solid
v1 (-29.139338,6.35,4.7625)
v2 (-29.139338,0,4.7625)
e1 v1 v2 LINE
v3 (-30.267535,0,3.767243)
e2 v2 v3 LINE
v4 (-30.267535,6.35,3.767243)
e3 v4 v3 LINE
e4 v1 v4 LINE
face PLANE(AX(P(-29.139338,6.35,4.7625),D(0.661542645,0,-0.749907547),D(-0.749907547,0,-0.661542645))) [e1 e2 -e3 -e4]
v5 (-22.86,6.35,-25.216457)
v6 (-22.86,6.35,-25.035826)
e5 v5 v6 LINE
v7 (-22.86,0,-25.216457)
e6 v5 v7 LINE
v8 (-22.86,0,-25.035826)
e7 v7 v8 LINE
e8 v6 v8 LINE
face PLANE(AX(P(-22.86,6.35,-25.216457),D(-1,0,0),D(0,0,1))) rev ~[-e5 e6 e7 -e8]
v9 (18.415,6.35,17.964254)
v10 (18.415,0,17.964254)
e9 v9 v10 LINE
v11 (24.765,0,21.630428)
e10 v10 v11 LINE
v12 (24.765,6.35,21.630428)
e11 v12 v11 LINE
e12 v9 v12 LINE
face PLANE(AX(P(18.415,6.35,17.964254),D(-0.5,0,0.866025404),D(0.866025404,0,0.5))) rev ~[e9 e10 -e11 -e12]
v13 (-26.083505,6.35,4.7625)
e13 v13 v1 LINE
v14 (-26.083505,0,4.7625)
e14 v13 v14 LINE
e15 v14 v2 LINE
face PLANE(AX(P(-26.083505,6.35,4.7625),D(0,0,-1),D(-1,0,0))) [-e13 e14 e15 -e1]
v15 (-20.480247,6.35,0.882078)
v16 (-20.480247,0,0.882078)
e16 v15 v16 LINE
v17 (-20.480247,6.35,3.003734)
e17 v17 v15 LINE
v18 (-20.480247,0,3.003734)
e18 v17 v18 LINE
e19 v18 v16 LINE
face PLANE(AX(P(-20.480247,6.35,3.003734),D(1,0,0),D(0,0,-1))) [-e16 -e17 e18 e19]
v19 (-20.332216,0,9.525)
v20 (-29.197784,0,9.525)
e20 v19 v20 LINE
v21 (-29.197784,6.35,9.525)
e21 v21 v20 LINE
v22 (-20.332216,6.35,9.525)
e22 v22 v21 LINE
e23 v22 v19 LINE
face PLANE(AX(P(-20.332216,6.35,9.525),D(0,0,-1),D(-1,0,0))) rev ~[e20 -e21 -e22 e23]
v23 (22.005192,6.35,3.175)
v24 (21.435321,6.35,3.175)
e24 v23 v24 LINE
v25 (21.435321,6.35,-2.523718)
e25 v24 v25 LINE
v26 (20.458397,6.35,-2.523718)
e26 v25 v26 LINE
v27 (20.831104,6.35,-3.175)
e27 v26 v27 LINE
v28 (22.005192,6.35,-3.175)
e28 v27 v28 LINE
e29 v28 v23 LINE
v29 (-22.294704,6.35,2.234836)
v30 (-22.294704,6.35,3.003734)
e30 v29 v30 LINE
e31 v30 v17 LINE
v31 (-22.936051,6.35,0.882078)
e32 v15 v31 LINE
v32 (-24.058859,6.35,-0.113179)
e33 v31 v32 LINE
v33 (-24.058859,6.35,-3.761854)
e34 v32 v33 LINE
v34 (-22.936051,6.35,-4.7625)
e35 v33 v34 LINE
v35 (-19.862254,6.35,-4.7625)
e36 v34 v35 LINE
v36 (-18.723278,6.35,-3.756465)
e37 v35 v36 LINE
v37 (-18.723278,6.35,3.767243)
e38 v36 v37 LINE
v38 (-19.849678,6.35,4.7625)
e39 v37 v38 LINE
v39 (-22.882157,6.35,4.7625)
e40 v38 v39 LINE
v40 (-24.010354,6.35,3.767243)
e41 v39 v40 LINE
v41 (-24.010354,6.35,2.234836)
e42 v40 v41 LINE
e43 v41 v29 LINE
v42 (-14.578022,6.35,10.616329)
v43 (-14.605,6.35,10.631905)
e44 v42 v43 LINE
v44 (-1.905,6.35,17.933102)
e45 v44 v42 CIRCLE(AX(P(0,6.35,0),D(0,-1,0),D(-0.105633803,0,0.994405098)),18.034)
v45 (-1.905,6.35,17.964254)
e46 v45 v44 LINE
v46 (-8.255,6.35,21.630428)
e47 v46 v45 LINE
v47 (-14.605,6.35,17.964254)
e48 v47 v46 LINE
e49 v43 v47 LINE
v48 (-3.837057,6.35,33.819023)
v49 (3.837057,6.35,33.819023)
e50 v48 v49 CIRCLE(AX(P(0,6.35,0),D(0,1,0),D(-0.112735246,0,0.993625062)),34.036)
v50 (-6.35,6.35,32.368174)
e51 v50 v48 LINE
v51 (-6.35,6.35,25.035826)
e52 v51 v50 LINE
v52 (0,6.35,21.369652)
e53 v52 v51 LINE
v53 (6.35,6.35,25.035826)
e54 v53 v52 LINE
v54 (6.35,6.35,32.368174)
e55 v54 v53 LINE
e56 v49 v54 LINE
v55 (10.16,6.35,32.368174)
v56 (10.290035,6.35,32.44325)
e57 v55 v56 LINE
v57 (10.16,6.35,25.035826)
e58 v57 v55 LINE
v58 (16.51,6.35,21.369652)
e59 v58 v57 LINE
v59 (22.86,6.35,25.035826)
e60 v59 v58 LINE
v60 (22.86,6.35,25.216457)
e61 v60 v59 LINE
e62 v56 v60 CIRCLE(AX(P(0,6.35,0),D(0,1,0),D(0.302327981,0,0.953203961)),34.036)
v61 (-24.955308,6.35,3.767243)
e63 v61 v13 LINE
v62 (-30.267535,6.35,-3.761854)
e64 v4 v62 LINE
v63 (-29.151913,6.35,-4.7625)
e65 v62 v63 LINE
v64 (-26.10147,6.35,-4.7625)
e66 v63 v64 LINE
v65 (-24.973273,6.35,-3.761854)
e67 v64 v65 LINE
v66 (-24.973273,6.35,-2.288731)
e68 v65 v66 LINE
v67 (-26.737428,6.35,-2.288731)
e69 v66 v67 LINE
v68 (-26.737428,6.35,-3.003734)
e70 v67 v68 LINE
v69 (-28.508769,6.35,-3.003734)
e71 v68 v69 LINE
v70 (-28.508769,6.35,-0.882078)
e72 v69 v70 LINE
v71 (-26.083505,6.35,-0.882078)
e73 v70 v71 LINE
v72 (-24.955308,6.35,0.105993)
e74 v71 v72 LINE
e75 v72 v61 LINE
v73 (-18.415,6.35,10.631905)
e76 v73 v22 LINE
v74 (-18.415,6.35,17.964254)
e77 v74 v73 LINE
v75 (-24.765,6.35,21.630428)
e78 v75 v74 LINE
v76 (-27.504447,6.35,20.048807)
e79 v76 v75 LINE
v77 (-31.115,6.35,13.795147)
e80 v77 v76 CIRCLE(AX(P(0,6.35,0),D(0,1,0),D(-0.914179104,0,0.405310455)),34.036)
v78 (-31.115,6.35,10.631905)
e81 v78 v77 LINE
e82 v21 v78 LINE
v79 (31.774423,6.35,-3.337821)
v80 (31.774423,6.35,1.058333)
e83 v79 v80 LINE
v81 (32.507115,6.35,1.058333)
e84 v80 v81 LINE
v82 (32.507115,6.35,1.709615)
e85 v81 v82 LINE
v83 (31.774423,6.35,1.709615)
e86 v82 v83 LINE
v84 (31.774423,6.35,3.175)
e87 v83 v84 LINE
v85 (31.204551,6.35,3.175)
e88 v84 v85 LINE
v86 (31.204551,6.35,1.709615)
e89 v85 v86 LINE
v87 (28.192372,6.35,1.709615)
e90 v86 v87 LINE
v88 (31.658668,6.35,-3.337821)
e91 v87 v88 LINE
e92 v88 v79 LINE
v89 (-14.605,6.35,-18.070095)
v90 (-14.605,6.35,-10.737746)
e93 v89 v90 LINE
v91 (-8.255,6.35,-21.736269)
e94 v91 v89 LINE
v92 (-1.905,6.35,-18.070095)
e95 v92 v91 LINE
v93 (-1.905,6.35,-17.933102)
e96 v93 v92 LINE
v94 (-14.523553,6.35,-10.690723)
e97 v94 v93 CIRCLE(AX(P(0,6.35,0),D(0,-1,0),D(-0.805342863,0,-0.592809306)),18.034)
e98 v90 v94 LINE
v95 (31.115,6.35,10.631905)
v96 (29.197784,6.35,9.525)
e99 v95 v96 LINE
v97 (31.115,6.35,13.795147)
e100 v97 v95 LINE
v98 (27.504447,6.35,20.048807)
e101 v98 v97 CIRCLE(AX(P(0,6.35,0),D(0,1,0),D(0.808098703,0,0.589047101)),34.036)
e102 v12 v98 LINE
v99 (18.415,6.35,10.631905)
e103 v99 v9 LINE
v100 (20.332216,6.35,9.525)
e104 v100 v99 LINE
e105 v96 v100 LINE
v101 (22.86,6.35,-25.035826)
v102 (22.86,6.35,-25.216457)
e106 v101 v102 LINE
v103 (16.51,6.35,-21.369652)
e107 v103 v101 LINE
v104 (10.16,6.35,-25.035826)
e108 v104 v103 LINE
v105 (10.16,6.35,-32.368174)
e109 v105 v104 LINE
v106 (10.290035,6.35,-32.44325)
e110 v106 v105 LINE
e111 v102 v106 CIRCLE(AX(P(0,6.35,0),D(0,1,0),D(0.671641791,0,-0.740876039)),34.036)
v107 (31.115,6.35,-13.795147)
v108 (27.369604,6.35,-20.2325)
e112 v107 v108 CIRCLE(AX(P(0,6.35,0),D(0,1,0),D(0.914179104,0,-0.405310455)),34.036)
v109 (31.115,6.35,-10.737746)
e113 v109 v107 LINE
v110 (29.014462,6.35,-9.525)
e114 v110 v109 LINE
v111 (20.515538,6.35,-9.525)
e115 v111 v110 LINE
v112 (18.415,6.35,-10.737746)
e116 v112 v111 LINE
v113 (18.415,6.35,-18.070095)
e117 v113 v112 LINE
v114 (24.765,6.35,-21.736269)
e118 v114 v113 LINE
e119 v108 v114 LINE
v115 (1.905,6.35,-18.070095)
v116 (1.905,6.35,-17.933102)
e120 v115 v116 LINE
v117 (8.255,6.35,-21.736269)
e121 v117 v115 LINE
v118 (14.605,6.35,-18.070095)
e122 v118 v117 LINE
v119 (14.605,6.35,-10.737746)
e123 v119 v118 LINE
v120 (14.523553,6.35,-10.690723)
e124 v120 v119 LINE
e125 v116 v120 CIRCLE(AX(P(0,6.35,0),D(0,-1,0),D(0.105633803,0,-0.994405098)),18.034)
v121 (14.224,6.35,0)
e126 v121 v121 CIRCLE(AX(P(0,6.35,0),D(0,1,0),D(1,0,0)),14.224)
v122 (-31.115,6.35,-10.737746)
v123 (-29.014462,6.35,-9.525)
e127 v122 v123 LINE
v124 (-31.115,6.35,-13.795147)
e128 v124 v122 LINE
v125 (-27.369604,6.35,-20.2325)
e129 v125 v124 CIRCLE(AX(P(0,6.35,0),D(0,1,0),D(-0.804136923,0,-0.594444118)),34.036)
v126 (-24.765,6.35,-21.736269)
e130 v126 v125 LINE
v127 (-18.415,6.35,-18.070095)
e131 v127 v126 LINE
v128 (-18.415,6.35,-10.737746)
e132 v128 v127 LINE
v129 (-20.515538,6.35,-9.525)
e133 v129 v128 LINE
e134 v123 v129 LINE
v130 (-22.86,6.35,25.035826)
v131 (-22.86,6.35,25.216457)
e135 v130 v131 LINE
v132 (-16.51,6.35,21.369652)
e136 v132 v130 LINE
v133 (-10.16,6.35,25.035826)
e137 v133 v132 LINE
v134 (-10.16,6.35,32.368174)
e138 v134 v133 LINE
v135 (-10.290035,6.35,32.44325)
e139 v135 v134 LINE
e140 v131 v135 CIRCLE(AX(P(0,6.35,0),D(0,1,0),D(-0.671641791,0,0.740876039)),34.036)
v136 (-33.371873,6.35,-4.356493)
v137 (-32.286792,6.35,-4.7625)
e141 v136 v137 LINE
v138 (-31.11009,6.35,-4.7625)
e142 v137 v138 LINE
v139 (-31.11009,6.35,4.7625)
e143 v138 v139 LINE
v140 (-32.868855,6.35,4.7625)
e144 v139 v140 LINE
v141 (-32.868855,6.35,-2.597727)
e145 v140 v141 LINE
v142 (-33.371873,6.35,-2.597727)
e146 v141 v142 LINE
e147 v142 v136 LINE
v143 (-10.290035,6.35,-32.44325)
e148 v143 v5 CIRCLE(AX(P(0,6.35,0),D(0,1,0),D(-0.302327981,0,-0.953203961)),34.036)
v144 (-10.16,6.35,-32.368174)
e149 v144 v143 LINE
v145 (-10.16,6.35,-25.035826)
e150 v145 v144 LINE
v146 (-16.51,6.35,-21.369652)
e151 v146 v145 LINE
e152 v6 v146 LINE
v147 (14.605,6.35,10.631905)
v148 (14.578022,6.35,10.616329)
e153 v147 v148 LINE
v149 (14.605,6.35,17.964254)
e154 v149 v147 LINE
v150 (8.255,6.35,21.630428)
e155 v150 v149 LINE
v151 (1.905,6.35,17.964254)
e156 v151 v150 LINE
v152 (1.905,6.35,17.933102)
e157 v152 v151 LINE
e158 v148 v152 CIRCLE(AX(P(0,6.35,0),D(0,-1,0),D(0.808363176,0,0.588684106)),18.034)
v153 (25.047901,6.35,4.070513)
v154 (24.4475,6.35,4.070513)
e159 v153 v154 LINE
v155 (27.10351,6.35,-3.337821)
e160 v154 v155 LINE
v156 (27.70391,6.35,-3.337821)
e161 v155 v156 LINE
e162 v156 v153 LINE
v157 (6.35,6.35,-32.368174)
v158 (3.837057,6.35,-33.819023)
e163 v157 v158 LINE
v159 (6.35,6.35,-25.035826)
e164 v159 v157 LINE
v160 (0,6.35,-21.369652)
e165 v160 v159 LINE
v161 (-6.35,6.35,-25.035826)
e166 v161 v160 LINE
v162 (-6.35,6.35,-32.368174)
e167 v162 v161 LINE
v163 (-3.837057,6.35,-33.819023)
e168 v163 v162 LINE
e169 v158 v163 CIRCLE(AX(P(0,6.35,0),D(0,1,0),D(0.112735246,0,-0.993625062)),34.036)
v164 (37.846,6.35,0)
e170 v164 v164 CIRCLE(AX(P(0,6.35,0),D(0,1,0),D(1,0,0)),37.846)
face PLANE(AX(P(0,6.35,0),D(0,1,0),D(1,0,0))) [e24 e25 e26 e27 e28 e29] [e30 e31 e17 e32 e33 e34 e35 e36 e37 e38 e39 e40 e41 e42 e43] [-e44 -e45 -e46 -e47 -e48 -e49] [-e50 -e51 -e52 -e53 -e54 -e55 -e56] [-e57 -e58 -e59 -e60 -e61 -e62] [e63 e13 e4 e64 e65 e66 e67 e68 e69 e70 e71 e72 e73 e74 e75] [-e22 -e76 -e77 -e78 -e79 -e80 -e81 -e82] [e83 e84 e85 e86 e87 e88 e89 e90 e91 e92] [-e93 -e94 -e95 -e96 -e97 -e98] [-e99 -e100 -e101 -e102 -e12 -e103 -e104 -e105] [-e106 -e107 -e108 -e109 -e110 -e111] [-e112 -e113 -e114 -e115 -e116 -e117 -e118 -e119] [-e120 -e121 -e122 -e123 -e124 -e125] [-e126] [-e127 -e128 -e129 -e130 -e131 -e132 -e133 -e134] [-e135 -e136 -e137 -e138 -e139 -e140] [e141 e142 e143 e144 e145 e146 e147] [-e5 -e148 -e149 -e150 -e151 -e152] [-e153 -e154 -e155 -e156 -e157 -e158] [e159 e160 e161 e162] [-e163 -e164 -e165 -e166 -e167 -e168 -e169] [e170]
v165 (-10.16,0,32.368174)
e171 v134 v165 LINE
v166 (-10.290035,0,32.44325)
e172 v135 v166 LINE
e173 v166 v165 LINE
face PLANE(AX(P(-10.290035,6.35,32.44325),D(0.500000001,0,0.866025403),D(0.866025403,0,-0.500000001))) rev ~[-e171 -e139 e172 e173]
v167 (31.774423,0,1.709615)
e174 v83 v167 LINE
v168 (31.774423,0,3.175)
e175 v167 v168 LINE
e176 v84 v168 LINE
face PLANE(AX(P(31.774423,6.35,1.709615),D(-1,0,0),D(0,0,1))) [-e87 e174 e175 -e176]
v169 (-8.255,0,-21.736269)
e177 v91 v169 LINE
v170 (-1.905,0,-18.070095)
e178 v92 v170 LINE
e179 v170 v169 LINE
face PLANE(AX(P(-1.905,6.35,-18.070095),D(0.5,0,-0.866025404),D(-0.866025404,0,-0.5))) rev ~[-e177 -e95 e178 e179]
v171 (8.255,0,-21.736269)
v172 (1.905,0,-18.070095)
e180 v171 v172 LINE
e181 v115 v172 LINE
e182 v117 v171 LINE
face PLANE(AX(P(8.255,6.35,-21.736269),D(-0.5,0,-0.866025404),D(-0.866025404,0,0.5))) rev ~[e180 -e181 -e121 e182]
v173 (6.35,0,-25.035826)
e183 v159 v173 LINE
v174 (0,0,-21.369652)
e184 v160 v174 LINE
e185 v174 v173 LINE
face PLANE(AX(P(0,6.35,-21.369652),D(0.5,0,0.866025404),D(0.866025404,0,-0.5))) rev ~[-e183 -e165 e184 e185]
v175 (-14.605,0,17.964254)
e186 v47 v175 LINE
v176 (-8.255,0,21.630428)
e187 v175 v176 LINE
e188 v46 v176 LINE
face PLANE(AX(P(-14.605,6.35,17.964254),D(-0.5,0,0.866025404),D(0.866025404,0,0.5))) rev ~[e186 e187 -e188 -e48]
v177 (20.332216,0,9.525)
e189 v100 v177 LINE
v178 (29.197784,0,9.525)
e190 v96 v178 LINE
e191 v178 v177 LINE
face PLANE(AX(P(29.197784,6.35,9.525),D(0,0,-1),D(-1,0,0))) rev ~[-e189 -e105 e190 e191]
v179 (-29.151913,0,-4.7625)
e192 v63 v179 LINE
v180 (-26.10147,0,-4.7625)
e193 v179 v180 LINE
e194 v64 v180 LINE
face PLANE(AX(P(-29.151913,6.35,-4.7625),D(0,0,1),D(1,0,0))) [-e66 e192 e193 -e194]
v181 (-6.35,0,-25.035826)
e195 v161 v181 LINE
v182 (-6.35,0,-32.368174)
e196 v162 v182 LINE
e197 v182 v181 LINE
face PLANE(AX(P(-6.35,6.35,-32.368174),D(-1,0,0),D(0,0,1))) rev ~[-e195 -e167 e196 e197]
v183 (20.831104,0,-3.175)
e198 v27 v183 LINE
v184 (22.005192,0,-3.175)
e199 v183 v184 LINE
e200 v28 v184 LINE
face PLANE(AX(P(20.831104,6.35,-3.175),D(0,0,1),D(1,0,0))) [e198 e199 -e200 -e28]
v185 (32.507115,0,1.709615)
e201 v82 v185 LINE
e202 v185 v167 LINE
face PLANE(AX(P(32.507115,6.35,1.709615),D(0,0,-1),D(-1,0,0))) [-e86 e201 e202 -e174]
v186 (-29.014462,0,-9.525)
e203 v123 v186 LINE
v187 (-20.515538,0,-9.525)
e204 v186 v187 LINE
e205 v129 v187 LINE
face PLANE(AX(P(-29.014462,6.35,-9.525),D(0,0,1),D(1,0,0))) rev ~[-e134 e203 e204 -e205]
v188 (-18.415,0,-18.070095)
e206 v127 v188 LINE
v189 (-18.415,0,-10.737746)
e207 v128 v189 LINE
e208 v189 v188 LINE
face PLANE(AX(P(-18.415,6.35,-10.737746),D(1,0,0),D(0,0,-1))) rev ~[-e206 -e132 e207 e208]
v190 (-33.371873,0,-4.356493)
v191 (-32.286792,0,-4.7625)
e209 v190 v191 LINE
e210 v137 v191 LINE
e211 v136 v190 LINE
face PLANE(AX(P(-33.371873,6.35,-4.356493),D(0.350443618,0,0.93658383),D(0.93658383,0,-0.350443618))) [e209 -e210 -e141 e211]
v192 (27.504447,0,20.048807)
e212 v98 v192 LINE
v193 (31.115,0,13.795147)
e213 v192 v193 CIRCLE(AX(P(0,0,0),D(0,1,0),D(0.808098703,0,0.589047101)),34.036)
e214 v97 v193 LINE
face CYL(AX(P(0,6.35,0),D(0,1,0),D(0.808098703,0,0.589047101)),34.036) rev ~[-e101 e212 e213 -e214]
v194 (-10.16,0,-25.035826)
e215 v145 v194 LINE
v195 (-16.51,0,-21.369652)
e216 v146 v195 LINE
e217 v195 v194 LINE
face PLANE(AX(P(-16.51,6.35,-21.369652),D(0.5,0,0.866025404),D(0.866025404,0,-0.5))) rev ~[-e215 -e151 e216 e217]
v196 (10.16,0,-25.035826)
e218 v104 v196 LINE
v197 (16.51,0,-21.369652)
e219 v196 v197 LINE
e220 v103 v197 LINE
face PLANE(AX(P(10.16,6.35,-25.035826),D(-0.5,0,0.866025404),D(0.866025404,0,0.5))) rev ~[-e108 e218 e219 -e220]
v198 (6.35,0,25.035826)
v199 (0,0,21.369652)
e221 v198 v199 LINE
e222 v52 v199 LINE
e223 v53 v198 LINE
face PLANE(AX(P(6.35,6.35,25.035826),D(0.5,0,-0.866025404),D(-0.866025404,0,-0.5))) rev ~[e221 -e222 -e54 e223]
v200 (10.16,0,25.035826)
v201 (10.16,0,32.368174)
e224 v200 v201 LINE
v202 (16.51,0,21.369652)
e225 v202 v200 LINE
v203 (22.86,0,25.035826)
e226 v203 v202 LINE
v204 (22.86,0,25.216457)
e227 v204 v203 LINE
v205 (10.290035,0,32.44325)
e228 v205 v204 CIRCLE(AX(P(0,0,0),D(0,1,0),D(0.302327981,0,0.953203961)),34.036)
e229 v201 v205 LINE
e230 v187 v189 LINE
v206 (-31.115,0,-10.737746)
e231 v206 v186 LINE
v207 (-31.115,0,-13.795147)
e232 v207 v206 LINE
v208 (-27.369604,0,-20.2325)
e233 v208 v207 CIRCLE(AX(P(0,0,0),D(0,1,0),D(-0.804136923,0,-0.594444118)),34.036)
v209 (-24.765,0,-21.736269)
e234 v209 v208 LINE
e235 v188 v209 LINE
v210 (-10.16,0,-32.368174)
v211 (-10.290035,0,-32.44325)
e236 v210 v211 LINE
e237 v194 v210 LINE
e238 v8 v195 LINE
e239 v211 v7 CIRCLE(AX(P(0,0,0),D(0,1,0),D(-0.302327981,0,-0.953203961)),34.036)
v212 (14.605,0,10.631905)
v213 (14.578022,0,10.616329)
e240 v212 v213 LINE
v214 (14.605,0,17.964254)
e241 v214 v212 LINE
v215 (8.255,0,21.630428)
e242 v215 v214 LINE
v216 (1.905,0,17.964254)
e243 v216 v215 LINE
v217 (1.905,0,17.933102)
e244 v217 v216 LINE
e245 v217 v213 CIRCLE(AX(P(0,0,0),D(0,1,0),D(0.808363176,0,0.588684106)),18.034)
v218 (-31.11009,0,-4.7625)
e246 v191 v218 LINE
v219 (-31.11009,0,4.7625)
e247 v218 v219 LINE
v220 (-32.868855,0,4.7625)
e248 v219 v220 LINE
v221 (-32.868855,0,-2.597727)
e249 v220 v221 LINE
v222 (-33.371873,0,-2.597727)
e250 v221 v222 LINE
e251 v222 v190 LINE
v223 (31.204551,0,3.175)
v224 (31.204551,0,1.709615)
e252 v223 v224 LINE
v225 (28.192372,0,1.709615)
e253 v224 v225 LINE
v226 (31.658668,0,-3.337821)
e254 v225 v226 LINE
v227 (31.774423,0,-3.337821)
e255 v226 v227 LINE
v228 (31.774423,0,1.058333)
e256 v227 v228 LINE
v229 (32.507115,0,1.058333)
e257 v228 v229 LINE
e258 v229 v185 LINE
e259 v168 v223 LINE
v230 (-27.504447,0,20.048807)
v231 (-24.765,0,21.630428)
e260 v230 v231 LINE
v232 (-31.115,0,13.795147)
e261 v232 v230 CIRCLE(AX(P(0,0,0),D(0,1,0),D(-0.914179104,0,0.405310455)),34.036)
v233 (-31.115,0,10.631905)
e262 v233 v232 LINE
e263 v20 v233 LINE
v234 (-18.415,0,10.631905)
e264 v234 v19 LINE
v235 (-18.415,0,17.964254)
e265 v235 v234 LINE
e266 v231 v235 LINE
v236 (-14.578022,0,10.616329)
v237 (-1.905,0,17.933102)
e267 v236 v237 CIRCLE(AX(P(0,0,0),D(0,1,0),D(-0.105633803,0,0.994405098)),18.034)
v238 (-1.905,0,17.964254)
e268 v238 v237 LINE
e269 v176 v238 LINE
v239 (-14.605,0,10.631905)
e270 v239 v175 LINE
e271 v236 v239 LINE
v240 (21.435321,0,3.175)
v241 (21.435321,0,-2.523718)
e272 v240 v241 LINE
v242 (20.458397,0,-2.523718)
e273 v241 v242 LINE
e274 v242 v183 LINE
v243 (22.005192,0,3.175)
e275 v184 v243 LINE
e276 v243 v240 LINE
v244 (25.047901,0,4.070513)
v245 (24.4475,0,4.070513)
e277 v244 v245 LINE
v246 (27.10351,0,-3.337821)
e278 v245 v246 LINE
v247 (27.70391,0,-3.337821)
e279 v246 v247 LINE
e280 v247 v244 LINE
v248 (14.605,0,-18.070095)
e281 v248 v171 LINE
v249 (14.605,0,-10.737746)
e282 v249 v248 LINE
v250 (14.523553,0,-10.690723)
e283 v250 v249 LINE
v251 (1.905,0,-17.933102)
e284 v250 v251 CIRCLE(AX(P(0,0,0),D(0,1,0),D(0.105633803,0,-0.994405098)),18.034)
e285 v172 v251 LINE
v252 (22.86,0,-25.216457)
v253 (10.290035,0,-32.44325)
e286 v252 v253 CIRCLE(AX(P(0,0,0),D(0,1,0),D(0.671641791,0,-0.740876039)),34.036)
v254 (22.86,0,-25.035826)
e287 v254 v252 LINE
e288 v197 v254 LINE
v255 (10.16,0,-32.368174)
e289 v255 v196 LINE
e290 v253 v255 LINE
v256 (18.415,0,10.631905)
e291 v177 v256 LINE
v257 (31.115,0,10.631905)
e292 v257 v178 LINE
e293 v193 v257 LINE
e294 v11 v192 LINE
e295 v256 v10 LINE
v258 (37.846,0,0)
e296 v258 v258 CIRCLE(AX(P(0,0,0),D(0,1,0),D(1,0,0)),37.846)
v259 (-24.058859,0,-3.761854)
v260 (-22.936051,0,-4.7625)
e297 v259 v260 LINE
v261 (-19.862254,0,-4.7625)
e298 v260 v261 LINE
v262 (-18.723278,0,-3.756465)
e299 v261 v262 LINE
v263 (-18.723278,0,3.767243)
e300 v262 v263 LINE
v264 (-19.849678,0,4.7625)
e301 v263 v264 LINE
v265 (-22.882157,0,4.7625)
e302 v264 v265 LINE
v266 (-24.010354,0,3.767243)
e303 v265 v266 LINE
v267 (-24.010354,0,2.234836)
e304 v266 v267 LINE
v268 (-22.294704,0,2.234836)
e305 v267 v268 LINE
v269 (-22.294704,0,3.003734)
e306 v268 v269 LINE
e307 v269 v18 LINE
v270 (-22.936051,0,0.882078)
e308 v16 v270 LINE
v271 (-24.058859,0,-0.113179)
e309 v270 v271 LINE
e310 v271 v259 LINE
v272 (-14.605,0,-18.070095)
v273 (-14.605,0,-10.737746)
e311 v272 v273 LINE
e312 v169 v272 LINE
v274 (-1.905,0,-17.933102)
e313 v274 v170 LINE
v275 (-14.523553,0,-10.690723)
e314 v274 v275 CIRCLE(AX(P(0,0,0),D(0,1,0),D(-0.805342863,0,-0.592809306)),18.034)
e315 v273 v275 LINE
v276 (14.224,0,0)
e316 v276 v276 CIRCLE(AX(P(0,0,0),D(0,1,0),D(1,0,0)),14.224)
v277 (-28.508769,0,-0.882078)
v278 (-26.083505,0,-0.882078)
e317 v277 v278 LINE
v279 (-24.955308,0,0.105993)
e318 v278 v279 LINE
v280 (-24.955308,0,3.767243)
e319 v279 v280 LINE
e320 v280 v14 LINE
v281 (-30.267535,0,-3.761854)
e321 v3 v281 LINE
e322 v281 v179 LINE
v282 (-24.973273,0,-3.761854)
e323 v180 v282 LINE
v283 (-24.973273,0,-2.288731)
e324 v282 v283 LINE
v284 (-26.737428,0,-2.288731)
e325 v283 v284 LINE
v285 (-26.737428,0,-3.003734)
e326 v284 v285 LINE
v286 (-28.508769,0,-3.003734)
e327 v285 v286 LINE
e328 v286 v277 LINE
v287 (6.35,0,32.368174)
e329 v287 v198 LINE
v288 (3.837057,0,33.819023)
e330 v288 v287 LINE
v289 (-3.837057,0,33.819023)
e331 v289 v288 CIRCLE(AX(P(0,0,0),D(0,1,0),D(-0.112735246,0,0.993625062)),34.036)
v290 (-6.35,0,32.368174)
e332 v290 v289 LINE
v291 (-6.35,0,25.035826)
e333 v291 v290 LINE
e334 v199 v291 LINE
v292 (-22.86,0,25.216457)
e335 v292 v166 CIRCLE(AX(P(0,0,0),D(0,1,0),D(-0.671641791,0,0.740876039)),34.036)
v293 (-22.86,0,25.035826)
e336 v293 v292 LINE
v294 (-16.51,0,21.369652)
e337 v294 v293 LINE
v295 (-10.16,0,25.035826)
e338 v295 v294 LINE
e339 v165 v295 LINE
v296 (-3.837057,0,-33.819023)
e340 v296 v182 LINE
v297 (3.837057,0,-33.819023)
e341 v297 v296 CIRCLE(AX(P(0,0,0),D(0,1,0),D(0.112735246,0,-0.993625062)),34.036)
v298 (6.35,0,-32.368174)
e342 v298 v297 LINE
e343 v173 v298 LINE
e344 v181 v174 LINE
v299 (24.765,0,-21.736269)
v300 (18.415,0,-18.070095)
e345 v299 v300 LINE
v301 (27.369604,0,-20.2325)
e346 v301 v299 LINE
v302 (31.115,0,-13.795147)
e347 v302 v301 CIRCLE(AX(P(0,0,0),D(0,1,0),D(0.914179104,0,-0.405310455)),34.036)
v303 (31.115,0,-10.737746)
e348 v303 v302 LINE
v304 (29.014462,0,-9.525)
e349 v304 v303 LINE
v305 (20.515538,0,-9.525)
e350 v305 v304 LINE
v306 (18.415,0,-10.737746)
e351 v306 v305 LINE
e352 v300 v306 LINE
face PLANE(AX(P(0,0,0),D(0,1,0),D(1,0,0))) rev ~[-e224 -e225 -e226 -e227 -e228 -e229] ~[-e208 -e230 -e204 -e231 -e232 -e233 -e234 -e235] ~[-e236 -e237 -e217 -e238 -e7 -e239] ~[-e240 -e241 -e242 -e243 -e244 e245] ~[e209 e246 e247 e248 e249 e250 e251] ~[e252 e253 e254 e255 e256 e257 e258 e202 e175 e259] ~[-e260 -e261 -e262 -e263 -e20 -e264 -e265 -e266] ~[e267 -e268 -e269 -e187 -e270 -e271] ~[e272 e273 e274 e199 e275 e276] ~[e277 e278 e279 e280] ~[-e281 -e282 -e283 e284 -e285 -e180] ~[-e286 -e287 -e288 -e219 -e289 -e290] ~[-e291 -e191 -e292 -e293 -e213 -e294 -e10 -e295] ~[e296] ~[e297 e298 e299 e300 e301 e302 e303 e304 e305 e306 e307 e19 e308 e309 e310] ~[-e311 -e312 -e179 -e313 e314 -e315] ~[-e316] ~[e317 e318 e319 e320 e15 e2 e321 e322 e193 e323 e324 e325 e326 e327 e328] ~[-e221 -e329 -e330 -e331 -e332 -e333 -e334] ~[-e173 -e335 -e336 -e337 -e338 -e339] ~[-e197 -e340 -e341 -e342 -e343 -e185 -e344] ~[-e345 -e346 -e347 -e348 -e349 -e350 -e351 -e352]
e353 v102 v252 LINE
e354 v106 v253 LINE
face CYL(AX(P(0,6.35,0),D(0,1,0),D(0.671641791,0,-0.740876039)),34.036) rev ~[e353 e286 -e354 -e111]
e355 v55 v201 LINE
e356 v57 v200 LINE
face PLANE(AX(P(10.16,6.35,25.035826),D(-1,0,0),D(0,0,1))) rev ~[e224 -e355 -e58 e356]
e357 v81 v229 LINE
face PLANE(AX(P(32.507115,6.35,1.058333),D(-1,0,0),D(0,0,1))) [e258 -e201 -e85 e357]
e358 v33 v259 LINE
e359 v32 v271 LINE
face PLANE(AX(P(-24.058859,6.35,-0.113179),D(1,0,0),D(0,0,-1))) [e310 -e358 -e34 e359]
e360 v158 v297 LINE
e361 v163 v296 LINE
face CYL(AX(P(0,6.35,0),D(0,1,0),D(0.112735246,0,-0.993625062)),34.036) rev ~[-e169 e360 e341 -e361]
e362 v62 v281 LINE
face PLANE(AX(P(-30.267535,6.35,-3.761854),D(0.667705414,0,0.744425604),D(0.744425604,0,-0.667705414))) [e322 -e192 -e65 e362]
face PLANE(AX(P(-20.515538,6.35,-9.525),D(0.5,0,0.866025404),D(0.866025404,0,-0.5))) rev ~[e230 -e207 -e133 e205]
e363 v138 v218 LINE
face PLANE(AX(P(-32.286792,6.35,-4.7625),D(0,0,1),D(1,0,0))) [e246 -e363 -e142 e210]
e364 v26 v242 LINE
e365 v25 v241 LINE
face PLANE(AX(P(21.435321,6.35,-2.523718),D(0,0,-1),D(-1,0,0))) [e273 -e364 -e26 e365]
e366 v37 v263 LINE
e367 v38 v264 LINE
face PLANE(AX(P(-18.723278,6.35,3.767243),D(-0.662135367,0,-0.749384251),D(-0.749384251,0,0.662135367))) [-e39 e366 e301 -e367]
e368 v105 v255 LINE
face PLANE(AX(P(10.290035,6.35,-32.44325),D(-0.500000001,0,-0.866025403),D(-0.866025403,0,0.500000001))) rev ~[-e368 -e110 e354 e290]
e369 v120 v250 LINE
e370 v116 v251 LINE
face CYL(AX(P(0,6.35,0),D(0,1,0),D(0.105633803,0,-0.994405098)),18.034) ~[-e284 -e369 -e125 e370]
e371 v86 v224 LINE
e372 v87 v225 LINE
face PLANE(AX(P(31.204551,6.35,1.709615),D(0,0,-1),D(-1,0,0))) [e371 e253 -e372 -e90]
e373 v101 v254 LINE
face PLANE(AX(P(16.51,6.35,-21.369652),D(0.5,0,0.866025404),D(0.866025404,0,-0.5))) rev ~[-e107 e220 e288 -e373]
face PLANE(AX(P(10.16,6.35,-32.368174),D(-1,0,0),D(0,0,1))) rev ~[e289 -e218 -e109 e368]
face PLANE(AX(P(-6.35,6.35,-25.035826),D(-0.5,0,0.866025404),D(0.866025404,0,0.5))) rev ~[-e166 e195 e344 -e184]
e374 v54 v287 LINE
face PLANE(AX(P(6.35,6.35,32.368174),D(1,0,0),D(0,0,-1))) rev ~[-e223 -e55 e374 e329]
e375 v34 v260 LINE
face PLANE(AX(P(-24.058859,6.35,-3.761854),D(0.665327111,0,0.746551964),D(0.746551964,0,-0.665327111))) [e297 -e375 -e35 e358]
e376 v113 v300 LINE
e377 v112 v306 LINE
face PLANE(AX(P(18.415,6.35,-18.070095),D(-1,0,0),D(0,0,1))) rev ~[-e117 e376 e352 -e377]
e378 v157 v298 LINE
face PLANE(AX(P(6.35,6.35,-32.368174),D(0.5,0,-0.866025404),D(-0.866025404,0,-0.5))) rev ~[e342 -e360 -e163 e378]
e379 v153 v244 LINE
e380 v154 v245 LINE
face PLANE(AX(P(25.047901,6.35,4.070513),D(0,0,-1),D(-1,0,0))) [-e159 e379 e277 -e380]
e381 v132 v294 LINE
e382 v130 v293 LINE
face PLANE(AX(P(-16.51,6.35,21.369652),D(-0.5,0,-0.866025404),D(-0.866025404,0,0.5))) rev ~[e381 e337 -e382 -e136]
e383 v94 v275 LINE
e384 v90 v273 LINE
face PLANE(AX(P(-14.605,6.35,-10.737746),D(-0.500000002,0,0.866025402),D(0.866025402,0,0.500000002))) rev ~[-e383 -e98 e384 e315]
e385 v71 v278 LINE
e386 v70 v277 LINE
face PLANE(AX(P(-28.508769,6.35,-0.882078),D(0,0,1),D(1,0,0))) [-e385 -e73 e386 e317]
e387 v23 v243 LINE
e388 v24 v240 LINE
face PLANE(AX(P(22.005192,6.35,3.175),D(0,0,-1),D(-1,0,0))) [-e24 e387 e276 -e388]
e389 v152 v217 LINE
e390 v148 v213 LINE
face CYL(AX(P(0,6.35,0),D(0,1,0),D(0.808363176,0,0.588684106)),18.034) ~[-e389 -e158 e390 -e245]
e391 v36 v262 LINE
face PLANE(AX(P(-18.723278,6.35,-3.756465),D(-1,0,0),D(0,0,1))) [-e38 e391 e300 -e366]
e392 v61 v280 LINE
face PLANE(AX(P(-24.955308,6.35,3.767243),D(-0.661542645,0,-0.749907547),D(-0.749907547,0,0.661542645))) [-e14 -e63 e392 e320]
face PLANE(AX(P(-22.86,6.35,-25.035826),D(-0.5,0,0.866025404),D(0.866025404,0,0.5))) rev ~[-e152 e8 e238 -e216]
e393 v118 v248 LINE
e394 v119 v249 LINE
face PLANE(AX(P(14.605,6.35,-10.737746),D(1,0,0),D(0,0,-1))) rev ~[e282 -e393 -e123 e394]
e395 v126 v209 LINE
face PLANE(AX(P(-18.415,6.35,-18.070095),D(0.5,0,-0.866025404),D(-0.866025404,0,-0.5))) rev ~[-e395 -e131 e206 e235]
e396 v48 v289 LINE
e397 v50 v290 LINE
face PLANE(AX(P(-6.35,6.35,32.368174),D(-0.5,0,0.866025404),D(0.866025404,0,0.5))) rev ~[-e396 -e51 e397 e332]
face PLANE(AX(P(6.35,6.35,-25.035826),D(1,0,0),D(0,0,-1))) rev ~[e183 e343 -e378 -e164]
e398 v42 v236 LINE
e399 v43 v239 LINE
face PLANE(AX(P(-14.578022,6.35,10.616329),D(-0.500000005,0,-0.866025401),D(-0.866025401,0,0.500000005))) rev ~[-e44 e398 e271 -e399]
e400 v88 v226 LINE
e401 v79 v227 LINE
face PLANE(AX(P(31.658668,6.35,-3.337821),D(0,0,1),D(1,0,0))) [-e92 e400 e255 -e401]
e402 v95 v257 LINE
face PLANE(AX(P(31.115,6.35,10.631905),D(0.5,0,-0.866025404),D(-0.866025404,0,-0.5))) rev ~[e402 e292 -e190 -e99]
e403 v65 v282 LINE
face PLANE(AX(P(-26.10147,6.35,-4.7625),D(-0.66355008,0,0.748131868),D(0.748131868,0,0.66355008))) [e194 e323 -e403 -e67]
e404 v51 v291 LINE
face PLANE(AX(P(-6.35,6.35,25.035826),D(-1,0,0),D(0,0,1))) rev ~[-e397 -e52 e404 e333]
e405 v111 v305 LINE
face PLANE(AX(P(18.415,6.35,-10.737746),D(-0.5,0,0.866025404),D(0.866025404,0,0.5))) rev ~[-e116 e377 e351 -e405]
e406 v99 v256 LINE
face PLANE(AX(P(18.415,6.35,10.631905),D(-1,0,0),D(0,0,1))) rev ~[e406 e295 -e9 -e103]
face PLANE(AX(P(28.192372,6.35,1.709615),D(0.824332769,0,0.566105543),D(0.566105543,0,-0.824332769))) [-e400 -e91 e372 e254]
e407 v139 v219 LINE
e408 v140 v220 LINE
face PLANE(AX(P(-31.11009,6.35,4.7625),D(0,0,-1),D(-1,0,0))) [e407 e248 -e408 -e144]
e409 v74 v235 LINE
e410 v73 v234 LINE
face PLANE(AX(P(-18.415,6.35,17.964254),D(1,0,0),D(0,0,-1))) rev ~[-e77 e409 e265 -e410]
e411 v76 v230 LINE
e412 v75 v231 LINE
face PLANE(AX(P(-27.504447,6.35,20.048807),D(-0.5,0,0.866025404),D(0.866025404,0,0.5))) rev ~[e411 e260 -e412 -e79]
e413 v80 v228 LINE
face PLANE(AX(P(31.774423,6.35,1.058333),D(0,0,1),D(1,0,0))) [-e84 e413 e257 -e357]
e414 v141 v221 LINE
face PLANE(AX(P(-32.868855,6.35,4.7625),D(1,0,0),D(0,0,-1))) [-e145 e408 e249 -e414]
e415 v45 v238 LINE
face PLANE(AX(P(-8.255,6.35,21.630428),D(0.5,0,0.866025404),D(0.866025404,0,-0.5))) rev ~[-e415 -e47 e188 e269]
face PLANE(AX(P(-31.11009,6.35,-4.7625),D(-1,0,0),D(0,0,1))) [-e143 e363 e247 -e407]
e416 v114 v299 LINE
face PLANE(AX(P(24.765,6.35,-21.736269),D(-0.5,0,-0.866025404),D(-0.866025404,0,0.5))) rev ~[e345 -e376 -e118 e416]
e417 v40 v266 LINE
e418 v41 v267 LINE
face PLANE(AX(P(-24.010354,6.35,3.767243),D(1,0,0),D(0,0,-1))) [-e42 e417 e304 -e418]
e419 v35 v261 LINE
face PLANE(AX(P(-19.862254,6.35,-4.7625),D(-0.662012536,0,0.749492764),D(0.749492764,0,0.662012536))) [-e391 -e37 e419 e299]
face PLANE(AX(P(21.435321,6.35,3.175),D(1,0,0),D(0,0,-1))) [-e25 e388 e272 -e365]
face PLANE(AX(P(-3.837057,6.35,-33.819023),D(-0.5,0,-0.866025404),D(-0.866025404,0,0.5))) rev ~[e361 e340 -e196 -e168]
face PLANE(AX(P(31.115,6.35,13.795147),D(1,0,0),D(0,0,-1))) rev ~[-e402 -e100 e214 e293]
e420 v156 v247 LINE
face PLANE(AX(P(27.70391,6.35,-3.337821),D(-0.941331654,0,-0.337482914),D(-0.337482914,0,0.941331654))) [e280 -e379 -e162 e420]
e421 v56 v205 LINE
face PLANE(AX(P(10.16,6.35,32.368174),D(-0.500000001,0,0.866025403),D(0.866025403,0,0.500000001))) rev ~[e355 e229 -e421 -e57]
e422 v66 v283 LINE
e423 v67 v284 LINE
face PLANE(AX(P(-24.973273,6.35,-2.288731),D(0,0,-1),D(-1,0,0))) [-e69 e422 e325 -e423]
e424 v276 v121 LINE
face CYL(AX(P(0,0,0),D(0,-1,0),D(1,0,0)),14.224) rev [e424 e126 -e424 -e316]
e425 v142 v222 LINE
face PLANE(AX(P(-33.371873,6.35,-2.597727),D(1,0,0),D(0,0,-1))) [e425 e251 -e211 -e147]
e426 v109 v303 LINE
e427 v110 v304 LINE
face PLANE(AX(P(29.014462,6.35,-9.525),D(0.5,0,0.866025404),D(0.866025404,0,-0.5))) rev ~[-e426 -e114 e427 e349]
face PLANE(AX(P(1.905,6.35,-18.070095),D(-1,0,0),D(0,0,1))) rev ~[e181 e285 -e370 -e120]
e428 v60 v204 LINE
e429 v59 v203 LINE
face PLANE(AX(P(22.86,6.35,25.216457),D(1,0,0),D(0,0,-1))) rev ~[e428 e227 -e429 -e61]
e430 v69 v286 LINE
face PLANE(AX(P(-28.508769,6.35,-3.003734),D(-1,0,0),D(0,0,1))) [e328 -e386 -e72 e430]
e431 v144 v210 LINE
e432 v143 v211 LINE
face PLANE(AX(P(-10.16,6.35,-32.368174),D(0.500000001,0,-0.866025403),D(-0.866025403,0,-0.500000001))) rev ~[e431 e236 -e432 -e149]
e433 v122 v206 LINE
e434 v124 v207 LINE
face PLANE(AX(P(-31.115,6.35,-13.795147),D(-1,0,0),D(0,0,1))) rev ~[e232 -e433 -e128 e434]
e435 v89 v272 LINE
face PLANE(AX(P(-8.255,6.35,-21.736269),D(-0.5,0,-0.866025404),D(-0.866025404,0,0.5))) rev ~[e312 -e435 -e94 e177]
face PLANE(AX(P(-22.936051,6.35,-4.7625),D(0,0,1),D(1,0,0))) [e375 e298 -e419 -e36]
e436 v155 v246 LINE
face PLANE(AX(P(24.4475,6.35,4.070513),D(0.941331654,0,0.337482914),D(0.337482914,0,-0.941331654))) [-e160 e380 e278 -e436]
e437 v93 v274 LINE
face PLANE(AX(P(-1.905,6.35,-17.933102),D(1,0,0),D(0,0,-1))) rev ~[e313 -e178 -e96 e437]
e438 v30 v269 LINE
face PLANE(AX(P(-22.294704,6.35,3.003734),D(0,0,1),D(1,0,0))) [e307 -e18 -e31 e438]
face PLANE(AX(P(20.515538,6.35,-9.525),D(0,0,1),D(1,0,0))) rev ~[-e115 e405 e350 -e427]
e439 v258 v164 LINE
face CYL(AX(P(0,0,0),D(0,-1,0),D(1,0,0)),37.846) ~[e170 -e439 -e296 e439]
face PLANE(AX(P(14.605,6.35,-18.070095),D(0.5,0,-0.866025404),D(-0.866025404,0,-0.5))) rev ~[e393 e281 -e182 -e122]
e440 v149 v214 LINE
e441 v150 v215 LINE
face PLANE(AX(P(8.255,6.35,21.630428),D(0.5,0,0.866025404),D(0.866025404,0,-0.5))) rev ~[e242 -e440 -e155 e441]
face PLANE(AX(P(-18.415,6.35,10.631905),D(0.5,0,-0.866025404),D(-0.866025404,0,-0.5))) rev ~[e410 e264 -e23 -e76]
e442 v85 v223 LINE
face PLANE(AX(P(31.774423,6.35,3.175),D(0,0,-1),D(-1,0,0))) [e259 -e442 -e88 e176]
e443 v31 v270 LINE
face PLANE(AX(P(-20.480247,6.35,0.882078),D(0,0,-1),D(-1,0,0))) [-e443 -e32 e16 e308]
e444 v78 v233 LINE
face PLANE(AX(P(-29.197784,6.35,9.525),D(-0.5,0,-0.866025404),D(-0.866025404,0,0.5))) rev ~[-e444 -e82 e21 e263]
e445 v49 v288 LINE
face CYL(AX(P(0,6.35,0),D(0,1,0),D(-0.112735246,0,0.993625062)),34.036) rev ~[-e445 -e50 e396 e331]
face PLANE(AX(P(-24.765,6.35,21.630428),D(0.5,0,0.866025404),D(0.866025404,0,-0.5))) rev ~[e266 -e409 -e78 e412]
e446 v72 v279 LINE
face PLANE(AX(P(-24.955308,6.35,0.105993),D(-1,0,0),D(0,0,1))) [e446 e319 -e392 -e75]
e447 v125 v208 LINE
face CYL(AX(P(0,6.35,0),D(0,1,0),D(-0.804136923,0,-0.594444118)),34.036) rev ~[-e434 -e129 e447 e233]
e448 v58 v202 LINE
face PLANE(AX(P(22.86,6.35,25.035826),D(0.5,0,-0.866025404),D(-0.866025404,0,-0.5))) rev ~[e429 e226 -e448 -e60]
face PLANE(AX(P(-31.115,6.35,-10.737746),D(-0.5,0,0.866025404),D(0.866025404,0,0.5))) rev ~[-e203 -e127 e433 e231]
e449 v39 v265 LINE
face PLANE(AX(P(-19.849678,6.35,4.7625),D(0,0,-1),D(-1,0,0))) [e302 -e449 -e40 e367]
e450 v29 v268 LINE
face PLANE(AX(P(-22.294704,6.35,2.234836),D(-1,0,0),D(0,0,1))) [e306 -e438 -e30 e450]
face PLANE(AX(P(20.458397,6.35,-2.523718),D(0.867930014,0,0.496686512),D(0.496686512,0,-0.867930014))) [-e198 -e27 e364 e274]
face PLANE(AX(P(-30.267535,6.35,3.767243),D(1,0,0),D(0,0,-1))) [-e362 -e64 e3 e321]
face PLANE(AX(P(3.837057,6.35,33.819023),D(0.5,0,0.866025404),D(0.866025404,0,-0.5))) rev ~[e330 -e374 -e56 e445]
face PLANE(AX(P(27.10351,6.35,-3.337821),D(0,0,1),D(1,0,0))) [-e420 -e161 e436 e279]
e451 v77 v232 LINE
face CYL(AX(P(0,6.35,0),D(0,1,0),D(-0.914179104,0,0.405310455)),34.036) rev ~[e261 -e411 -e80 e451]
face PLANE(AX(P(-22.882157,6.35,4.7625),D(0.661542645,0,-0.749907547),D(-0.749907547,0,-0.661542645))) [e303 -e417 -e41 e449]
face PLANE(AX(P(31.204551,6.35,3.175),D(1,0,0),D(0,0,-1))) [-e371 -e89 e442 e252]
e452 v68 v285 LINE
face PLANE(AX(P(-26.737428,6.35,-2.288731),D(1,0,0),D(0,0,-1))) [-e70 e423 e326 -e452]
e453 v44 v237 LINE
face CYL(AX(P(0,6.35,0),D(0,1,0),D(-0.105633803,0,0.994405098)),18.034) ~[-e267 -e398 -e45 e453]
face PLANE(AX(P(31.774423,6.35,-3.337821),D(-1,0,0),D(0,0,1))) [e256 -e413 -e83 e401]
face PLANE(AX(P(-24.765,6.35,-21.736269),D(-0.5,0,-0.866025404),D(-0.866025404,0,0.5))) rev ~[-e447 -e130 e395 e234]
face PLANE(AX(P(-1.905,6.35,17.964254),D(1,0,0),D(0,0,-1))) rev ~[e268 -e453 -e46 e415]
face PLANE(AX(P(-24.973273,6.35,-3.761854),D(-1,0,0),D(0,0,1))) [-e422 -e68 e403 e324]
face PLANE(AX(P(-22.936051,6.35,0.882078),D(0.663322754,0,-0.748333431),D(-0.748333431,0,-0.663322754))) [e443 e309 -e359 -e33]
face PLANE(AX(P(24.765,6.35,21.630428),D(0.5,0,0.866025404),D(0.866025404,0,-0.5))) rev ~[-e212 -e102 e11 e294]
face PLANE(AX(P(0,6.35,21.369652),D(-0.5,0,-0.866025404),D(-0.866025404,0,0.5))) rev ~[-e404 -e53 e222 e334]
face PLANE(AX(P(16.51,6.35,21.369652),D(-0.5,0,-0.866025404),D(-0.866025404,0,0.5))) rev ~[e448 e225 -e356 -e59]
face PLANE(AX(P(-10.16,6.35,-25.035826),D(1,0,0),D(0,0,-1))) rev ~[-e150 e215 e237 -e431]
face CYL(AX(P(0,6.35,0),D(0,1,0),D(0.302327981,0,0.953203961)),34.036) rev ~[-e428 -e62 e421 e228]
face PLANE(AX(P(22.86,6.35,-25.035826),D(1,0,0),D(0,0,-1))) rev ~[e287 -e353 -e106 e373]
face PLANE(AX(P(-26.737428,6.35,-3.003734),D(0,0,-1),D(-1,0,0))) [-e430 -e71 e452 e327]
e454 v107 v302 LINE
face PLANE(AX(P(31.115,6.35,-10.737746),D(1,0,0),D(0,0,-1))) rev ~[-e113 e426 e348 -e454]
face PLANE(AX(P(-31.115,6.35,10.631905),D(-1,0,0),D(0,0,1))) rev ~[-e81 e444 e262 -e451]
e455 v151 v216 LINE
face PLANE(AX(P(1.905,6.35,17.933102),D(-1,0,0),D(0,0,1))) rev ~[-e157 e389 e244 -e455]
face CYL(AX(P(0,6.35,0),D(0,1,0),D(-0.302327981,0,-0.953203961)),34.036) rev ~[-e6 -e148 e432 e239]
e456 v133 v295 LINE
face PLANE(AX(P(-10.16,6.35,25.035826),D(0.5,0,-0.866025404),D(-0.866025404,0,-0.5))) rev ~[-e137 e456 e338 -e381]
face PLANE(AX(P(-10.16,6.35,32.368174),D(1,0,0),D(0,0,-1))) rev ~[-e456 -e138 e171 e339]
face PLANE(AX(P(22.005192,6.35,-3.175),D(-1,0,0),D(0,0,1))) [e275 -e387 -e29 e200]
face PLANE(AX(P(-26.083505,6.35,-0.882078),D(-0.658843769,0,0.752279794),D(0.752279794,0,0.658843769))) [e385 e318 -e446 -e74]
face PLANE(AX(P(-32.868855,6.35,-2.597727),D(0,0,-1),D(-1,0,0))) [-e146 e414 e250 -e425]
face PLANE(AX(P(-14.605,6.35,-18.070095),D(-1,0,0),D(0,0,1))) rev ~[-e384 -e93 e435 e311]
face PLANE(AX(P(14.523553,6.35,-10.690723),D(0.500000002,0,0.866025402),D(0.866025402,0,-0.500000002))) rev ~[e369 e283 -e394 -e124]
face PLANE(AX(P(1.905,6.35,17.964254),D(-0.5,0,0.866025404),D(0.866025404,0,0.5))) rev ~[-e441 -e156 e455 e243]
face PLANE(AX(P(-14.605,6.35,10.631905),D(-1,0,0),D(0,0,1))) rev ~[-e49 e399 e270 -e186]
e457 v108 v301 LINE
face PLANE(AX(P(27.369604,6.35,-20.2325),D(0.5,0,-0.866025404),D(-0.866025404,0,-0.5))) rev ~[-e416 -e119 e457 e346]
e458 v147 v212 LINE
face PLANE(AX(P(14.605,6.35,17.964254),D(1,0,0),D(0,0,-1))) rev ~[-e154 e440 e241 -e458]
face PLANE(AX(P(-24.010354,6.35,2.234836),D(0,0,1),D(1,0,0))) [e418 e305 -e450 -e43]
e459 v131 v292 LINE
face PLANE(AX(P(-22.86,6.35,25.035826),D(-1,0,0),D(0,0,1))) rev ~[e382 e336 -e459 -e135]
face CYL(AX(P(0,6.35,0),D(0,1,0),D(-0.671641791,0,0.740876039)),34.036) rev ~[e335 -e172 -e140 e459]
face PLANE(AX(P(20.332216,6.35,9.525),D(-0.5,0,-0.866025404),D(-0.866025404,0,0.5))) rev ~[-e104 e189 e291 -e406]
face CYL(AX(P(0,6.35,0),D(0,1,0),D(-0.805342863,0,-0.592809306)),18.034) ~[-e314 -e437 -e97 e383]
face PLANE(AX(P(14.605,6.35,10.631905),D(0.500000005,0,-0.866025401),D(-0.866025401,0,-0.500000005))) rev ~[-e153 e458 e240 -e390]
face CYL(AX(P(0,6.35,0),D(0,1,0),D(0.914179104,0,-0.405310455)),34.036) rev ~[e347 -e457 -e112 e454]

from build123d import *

# Parameters (mm, degrees)
SKETCH1_R               = 37.846
SKETCH1_R_2             = 14.224
BOSS_EXTRUDE1_DEPTH     = 6.35
CUT_EXTRUDE1_DEPTH      = 1
CUT_EXTRUDE1_DEPTH_BACK = 7.35
CUT_EXTRUDE2_DEPTH      = 1
CUT_EXTRUDE2_DEPTH_BACK = 7.35


with BuildPart() as part:
    # Sketch1 → Boss-Extrude1 (new body)
    with BuildSketch(Plane(origin=(0, 0, 0), x_dir=(1, 0, 0), z_dir=(0, 1, 0))):
        Circle(SKETCH1_R)
        Circle(SKETCH1_R_2, mode=Mode.SUBTRACT)
    extrude(amount=BOSS_EXTRUDE1_DEPTH)

    # Sketch2 → Cut-Extrude1 (cut, two sides)
    with BuildSketch(Plane(origin=(0, 6.35, 0), x_dir=(1, 0, 0), z_dir=(0, 1, 0))) as cut_extrude1_sk:
        Polygon((-18.723278008, -3.767243493), (-19.849678423, -4.7625), (-22.882156733, -4.7625), (-24.01035364, -3.767243493), (-24.01035364, -2.234835911), (-22.294703885, -2.234835911), (-22.294703885, -3.00373444), (-20.480247077, -3.00373444), (-20.480247077, -0.882077518), (-22.93605149, -0.882077518), (-24.058858921, 0.113178989), (-24.058858921, 3.761854017), (-22.93605149, 4.7625), (-19.862253866, 4.7625), (-18.723278008, 3.756464542), align=None)
        Polygon((-24.955308374, -3.767243493), (-26.083505281, -4.7625), (-29.139337986, -4.7625), (-30.267534892, -3.767243493), (-30.267534892, 3.761854017), (-29.151913429, 4.7625), (-26.1014702, 4.7625), (-24.973273293, 3.761854017), (-24.973273293, 2.288730668), (-26.737428329, 2.288730668), (-26.737428329, 3.00373444), (-28.508769332, 3.00373444), (-28.508769332, 0.882077518), (-26.083505281, 0.882077518), (-24.955308374, -0.105993022), align=None)
        Polygon((-31.110089589, -4.7625), (-32.868855149, -4.7625), (-32.868855149, 2.597727273), (-33.371872878, 2.597727273), (-33.371872878, 4.356492833), (-32.286791777, 4.7625), (-31.110089589, 4.7625), align=None)
        Polygon((20.831103766, 3.175), (22.005192308, 3.175), (22.005192308, -3.175), (21.435320513, -3.175), (21.435320513, 2.523717949), (20.458397436, 2.523717949), align=None)
        Polygon((27.703910256, 3.337820513), (25.047900641, -4.070512821), (24.4475, -4.070512821), (27.103509615, 3.337820513), align=None)
        Polygon((31.658667869, 3.337820513), (31.774423077, 3.337820513), (31.774423077, -1.058333333), (32.507115385, -1.058333333), (32.507115385, -1.709615385), (31.774423077, -1.709615385), (31.774423077, -3.175), (31.204551282, -3.175), (31.204551282, -1.709615385), (28.192371795, -1.709615385), align=None)
    extrude(amount=CUT_EXTRUDE1_DEPTH, mode=Mode.SUBTRACT)
    extrude(cut_extrude1_sk.sketch, amount=-CUT_EXTRUDE1_DEPTH_BACK, mode=Mode.SUBTRACT)

    # Sketch3 → Cut-Extrude2 (cut, two sides)
    with BuildSketch(Plane(origin=(0, 6.35, 0), x_dir=(1, 0, 0), z_dir=(0, 1, 0))) as cut_extrude2_sk:
        with BuildLine():
            Line((14.605, -10.631905207), (14.578021506, -10.616329166))
            ThreePointArc((14.578021506, -10.616329166), (9.017, -15.617902132), (1.905, -17.933101544))
            Line((1.905, -17.933101544), (1.905, -17.964253626))
            Line((1.905, -17.964253626), (8.255, -21.630427835))
            Line((8.255, -21.630427835), (14.605, -17.964253626))
            Line((14.605, -17.964253626), (14.605, -10.631905207))
        make_face()
        with BuildLine():
            ThreePointArc((-1.905, -17.933101544), (-9.017, -15.617902132), (-14.578021506, -10.616329166))
            Line((-14.578021506, -10.616329166), (-14.605, -10.631905207))
            Line((-14.605, -10.631905207), (-14.605, -17.964253626))
            Line((-14.605, -17.964253626), (-8.255, -21.630427835))
            Line((-8.255, -21.630427835), (-1.905, -17.964253626))
            Line((-1.905, -17.964253626), (-1.905, -17.933101544))
        make_face()
        with BuildLine():
            Line((29.197783942, -9.525), (20.332216058, -9.525))
            Line((20.332216058, -9.525), (18.415, -10.631905207))
            Line((18.415, -10.631905207), (18.415, -17.964253626))
            Line((18.415, -17.964253626), (24.765, -21.630427835))
            Line((24.765, -21.630427835), (27.504447445, -20.048807115))
            ThreePointArc((27.504447445, -20.048807115), (29.476040643, -17.018), (31.115, -13.795146647))
            Line((31.115, -13.795146647), (31.115, -10.631905207))
            Line((31.115, -10.631905207), (29.197783942, -9.525))
        make_face()
        with BuildLine():
            Line((-18.415, -10.631905207), (-20.332216058, -9.525))
            Line((-20.332216058, -9.525), (-29.197783942, -9.525))
            Line((-29.197783942, -9.525), (-31.115, -10.631905207))
            Line((-31.115, -10.631905207), (-31.115, -13.795146647))
            ThreePointArc((-31.115, -13.795146647), (-29.476040643, -17.018), (-27.504447445, -20.048807115))
            Line((-27.504447445, -20.048807115), (-24.765, -21.630427835))
            Line((-24.765, -21.630427835), (-18.415, -17.964253626))
            Line((-18.415, -17.964253626), (-18.415, -10.631905207))
        make_face()
        with BuildLine():
            ThreePointArc((1.905, 17.933101544), (8.977045814, 15.640901651), (14.523553183, 10.690723032))
            Line((14.523553183, 10.690723032), (14.605, 10.737746374))
            Line((14.605, 10.737746374), (14.605, 18.070094793))
            Line((14.605, 18.070094793), (8.255, 21.736269002))
            Line((8.255, 21.736269002), (1.905, 18.070094793))
            Line((1.905, 18.070094793), (1.905, 17.933101544))
        make_face()
        with BuildLine():
            Line((-14.605, 10.737746374), (-14.523553183, 10.690723032))
            ThreePointArc((-14.523553183, 10.690723032), (-8.977045814, 15.640901651), (-1.905, 17.933101544))
            Line((-1.905, 17.933101544), (-1.905, 18.070094793))
            Line((-1.905, 18.070094793), (-8.255, 21.736269002))
            Line((-8.255, 21.736269002), (-14.605, 18.070094793))
            Line((-14.605, 18.070094793), (-14.605, 10.737746374))
        make_face()
        with BuildLine():
            Line((18.415, 10.737746374), (20.515538337, 9.525))
            Line((20.515538337, 9.525), (29.014461663, 9.525))
            Line((29.014461663, 9.525), (31.115, 10.737746374))
            Line((31.115, 10.737746374), (31.115, 13.795146647))
            ThreePointArc((31.115, 13.795146647), (29.418907432, 17.11657622), (27.369604296, 20.232500011))
            Line((27.369604296, 20.232500011), (24.765, 21.736269002))
            Line((24.765, 21.736269002), (18.415, 18.070094793))
            Line((18.415, 18.070094793), (18.415, 10.737746374))
        make_face()
        with BuildLine():
            Line((-29.014461663, 9.525), (-20.515538337, 9.525))
            Line((-20.515538337, 9.525), (-18.415, 10.737746374))
            Line((-18.415, 10.737746374), (-18.415, 18.070094793))
            Line((-18.415, 18.070094793), (-24.765, 21.736269002))
            Line((-24.765, 21.736269002), (-27.369604296, 20.232500011))
            ThreePointArc((-27.369604296, 20.232500011), (-29.418907432, 17.11657622), (-31.115, 13.795146647))
            Line((-31.115, 13.795146647), (-31.115, 10.737746374))
            Line((-31.115, 10.737746374), (-29.014461663, 9.525))
        make_face()
        with BuildLine():
            ThreePointArc((10.290035143, -32.443250034), (16.964310844, -29.506972965), (22.86, -25.216456849))
            Line((22.86, -25.216456849), (22.86, -25.035825791))
            Line((22.86, -25.035825791), (16.51, -21.369651581))
            Line((16.51, -21.369651581), (10.16, -25.035825791))
            Line((10.16, -25.035825791), (10.16, -32.368174209))
            Line((10.16, -32.368174209), (10.290035143, -32.443250034))
        make_face()
        with BuildLine():
            Line((-22.86, -25.035825791), (-22.86, -25.216456849))
            ThreePointArc((-22.86, -25.216456849), (-16.964310844, -29.506972965), (-10.290035143, -32.443250034))
            Line((-10.290035143, -32.443250034), (-10.16, -32.368174209))
            Line((-10.16, -32.368174209), (-10.16, -25.035825791))
            Line((-10.16, -25.035825791), (-16.51, -21.369651581))
            Line((-16.51, -21.369651581), (-22.86, -25.035825791))
        make_face()
        with BuildLine():
            ThreePointArc((-3.837056844, -33.819022617), (0, -34.036), (3.837056844, -33.819022617))
            Line((3.837056844, -33.819022617), (6.35, -32.368174209))
            Line((6.35, -32.368174209), (6.35, -25.035825791))
            Line((6.35, -25.035825791), (0, -21.369651581))
            Line((0, -21.369651581), (-6.35, -25.035825791))
            Line((-6.35, -25.035825791), (-6.35, -32.368174209))
            Line((-6.35, -32.368174209), (-3.837056844, -33.819022617))
        make_face()
        with BuildLine():
            Line((22.86, 25.035825791), (22.86, 25.216456849))
            ThreePointArc((22.86, 25.216456849), (16.964310844, 29.506972965), (10.290035143, 32.443250034))
            Line((10.290035143, 32.443250034), (10.16, 32.368174209))
            Line((10.16, 32.368174209), (10.16, 25.035825791))
            Line((10.16, 25.035825791), (16.51, 21.369651581))
            Line((16.51, 21.369651581), (22.86, 25.035825791))
        make_face()
        with BuildLine():
            ThreePointArc((-10.290035143, 32.443250034), (-16.964310844, 29.506972965), (-22.86, 25.216456849))
            Line((-22.86, 25.216456849), (-22.86, 25.035825791))
            Line((-22.86, 25.035825791), (-16.51, 21.369651581))
            Line((-16.51, 21.369651581), (-10.16, 25.035825791))
            Line((-10.16, 25.035825791), (-10.16, 32.368174209))
            Line((-10.16, 32.368174209), (-10.290035143, 32.443250034))
        make_face()
        with BuildLine():
            Line((6.35, 32.368174209), (3.837056844, 33.819022617))
            ThreePointArc((3.837056844, 33.819022617), (0, 34.036), (-3.837056844, 33.819022617))
            Line((-3.837056844, 33.819022617), (-6.35, 32.368174209))
            Line((-6.35, 32.368174209), (-6.35, 25.035825791))
            Line((-6.35, 25.035825791), (0, 21.369651581))
            Line((0, 21.369651581), (6.35, 25.035825791))
            Line((6.35, 25.035825791), (6.35, 32.368174209))
        make_face()
    extrude(amount=CUT_EXTRUDE2_DEPTH, mode=Mode.SUBTRACT)
    extrude(cut_extrude2_sk.sketch, amount=-CUT_EXTRUDE2_DEPTH_BACK, mode=Mode.SUBTRACT)


solid = part.part
